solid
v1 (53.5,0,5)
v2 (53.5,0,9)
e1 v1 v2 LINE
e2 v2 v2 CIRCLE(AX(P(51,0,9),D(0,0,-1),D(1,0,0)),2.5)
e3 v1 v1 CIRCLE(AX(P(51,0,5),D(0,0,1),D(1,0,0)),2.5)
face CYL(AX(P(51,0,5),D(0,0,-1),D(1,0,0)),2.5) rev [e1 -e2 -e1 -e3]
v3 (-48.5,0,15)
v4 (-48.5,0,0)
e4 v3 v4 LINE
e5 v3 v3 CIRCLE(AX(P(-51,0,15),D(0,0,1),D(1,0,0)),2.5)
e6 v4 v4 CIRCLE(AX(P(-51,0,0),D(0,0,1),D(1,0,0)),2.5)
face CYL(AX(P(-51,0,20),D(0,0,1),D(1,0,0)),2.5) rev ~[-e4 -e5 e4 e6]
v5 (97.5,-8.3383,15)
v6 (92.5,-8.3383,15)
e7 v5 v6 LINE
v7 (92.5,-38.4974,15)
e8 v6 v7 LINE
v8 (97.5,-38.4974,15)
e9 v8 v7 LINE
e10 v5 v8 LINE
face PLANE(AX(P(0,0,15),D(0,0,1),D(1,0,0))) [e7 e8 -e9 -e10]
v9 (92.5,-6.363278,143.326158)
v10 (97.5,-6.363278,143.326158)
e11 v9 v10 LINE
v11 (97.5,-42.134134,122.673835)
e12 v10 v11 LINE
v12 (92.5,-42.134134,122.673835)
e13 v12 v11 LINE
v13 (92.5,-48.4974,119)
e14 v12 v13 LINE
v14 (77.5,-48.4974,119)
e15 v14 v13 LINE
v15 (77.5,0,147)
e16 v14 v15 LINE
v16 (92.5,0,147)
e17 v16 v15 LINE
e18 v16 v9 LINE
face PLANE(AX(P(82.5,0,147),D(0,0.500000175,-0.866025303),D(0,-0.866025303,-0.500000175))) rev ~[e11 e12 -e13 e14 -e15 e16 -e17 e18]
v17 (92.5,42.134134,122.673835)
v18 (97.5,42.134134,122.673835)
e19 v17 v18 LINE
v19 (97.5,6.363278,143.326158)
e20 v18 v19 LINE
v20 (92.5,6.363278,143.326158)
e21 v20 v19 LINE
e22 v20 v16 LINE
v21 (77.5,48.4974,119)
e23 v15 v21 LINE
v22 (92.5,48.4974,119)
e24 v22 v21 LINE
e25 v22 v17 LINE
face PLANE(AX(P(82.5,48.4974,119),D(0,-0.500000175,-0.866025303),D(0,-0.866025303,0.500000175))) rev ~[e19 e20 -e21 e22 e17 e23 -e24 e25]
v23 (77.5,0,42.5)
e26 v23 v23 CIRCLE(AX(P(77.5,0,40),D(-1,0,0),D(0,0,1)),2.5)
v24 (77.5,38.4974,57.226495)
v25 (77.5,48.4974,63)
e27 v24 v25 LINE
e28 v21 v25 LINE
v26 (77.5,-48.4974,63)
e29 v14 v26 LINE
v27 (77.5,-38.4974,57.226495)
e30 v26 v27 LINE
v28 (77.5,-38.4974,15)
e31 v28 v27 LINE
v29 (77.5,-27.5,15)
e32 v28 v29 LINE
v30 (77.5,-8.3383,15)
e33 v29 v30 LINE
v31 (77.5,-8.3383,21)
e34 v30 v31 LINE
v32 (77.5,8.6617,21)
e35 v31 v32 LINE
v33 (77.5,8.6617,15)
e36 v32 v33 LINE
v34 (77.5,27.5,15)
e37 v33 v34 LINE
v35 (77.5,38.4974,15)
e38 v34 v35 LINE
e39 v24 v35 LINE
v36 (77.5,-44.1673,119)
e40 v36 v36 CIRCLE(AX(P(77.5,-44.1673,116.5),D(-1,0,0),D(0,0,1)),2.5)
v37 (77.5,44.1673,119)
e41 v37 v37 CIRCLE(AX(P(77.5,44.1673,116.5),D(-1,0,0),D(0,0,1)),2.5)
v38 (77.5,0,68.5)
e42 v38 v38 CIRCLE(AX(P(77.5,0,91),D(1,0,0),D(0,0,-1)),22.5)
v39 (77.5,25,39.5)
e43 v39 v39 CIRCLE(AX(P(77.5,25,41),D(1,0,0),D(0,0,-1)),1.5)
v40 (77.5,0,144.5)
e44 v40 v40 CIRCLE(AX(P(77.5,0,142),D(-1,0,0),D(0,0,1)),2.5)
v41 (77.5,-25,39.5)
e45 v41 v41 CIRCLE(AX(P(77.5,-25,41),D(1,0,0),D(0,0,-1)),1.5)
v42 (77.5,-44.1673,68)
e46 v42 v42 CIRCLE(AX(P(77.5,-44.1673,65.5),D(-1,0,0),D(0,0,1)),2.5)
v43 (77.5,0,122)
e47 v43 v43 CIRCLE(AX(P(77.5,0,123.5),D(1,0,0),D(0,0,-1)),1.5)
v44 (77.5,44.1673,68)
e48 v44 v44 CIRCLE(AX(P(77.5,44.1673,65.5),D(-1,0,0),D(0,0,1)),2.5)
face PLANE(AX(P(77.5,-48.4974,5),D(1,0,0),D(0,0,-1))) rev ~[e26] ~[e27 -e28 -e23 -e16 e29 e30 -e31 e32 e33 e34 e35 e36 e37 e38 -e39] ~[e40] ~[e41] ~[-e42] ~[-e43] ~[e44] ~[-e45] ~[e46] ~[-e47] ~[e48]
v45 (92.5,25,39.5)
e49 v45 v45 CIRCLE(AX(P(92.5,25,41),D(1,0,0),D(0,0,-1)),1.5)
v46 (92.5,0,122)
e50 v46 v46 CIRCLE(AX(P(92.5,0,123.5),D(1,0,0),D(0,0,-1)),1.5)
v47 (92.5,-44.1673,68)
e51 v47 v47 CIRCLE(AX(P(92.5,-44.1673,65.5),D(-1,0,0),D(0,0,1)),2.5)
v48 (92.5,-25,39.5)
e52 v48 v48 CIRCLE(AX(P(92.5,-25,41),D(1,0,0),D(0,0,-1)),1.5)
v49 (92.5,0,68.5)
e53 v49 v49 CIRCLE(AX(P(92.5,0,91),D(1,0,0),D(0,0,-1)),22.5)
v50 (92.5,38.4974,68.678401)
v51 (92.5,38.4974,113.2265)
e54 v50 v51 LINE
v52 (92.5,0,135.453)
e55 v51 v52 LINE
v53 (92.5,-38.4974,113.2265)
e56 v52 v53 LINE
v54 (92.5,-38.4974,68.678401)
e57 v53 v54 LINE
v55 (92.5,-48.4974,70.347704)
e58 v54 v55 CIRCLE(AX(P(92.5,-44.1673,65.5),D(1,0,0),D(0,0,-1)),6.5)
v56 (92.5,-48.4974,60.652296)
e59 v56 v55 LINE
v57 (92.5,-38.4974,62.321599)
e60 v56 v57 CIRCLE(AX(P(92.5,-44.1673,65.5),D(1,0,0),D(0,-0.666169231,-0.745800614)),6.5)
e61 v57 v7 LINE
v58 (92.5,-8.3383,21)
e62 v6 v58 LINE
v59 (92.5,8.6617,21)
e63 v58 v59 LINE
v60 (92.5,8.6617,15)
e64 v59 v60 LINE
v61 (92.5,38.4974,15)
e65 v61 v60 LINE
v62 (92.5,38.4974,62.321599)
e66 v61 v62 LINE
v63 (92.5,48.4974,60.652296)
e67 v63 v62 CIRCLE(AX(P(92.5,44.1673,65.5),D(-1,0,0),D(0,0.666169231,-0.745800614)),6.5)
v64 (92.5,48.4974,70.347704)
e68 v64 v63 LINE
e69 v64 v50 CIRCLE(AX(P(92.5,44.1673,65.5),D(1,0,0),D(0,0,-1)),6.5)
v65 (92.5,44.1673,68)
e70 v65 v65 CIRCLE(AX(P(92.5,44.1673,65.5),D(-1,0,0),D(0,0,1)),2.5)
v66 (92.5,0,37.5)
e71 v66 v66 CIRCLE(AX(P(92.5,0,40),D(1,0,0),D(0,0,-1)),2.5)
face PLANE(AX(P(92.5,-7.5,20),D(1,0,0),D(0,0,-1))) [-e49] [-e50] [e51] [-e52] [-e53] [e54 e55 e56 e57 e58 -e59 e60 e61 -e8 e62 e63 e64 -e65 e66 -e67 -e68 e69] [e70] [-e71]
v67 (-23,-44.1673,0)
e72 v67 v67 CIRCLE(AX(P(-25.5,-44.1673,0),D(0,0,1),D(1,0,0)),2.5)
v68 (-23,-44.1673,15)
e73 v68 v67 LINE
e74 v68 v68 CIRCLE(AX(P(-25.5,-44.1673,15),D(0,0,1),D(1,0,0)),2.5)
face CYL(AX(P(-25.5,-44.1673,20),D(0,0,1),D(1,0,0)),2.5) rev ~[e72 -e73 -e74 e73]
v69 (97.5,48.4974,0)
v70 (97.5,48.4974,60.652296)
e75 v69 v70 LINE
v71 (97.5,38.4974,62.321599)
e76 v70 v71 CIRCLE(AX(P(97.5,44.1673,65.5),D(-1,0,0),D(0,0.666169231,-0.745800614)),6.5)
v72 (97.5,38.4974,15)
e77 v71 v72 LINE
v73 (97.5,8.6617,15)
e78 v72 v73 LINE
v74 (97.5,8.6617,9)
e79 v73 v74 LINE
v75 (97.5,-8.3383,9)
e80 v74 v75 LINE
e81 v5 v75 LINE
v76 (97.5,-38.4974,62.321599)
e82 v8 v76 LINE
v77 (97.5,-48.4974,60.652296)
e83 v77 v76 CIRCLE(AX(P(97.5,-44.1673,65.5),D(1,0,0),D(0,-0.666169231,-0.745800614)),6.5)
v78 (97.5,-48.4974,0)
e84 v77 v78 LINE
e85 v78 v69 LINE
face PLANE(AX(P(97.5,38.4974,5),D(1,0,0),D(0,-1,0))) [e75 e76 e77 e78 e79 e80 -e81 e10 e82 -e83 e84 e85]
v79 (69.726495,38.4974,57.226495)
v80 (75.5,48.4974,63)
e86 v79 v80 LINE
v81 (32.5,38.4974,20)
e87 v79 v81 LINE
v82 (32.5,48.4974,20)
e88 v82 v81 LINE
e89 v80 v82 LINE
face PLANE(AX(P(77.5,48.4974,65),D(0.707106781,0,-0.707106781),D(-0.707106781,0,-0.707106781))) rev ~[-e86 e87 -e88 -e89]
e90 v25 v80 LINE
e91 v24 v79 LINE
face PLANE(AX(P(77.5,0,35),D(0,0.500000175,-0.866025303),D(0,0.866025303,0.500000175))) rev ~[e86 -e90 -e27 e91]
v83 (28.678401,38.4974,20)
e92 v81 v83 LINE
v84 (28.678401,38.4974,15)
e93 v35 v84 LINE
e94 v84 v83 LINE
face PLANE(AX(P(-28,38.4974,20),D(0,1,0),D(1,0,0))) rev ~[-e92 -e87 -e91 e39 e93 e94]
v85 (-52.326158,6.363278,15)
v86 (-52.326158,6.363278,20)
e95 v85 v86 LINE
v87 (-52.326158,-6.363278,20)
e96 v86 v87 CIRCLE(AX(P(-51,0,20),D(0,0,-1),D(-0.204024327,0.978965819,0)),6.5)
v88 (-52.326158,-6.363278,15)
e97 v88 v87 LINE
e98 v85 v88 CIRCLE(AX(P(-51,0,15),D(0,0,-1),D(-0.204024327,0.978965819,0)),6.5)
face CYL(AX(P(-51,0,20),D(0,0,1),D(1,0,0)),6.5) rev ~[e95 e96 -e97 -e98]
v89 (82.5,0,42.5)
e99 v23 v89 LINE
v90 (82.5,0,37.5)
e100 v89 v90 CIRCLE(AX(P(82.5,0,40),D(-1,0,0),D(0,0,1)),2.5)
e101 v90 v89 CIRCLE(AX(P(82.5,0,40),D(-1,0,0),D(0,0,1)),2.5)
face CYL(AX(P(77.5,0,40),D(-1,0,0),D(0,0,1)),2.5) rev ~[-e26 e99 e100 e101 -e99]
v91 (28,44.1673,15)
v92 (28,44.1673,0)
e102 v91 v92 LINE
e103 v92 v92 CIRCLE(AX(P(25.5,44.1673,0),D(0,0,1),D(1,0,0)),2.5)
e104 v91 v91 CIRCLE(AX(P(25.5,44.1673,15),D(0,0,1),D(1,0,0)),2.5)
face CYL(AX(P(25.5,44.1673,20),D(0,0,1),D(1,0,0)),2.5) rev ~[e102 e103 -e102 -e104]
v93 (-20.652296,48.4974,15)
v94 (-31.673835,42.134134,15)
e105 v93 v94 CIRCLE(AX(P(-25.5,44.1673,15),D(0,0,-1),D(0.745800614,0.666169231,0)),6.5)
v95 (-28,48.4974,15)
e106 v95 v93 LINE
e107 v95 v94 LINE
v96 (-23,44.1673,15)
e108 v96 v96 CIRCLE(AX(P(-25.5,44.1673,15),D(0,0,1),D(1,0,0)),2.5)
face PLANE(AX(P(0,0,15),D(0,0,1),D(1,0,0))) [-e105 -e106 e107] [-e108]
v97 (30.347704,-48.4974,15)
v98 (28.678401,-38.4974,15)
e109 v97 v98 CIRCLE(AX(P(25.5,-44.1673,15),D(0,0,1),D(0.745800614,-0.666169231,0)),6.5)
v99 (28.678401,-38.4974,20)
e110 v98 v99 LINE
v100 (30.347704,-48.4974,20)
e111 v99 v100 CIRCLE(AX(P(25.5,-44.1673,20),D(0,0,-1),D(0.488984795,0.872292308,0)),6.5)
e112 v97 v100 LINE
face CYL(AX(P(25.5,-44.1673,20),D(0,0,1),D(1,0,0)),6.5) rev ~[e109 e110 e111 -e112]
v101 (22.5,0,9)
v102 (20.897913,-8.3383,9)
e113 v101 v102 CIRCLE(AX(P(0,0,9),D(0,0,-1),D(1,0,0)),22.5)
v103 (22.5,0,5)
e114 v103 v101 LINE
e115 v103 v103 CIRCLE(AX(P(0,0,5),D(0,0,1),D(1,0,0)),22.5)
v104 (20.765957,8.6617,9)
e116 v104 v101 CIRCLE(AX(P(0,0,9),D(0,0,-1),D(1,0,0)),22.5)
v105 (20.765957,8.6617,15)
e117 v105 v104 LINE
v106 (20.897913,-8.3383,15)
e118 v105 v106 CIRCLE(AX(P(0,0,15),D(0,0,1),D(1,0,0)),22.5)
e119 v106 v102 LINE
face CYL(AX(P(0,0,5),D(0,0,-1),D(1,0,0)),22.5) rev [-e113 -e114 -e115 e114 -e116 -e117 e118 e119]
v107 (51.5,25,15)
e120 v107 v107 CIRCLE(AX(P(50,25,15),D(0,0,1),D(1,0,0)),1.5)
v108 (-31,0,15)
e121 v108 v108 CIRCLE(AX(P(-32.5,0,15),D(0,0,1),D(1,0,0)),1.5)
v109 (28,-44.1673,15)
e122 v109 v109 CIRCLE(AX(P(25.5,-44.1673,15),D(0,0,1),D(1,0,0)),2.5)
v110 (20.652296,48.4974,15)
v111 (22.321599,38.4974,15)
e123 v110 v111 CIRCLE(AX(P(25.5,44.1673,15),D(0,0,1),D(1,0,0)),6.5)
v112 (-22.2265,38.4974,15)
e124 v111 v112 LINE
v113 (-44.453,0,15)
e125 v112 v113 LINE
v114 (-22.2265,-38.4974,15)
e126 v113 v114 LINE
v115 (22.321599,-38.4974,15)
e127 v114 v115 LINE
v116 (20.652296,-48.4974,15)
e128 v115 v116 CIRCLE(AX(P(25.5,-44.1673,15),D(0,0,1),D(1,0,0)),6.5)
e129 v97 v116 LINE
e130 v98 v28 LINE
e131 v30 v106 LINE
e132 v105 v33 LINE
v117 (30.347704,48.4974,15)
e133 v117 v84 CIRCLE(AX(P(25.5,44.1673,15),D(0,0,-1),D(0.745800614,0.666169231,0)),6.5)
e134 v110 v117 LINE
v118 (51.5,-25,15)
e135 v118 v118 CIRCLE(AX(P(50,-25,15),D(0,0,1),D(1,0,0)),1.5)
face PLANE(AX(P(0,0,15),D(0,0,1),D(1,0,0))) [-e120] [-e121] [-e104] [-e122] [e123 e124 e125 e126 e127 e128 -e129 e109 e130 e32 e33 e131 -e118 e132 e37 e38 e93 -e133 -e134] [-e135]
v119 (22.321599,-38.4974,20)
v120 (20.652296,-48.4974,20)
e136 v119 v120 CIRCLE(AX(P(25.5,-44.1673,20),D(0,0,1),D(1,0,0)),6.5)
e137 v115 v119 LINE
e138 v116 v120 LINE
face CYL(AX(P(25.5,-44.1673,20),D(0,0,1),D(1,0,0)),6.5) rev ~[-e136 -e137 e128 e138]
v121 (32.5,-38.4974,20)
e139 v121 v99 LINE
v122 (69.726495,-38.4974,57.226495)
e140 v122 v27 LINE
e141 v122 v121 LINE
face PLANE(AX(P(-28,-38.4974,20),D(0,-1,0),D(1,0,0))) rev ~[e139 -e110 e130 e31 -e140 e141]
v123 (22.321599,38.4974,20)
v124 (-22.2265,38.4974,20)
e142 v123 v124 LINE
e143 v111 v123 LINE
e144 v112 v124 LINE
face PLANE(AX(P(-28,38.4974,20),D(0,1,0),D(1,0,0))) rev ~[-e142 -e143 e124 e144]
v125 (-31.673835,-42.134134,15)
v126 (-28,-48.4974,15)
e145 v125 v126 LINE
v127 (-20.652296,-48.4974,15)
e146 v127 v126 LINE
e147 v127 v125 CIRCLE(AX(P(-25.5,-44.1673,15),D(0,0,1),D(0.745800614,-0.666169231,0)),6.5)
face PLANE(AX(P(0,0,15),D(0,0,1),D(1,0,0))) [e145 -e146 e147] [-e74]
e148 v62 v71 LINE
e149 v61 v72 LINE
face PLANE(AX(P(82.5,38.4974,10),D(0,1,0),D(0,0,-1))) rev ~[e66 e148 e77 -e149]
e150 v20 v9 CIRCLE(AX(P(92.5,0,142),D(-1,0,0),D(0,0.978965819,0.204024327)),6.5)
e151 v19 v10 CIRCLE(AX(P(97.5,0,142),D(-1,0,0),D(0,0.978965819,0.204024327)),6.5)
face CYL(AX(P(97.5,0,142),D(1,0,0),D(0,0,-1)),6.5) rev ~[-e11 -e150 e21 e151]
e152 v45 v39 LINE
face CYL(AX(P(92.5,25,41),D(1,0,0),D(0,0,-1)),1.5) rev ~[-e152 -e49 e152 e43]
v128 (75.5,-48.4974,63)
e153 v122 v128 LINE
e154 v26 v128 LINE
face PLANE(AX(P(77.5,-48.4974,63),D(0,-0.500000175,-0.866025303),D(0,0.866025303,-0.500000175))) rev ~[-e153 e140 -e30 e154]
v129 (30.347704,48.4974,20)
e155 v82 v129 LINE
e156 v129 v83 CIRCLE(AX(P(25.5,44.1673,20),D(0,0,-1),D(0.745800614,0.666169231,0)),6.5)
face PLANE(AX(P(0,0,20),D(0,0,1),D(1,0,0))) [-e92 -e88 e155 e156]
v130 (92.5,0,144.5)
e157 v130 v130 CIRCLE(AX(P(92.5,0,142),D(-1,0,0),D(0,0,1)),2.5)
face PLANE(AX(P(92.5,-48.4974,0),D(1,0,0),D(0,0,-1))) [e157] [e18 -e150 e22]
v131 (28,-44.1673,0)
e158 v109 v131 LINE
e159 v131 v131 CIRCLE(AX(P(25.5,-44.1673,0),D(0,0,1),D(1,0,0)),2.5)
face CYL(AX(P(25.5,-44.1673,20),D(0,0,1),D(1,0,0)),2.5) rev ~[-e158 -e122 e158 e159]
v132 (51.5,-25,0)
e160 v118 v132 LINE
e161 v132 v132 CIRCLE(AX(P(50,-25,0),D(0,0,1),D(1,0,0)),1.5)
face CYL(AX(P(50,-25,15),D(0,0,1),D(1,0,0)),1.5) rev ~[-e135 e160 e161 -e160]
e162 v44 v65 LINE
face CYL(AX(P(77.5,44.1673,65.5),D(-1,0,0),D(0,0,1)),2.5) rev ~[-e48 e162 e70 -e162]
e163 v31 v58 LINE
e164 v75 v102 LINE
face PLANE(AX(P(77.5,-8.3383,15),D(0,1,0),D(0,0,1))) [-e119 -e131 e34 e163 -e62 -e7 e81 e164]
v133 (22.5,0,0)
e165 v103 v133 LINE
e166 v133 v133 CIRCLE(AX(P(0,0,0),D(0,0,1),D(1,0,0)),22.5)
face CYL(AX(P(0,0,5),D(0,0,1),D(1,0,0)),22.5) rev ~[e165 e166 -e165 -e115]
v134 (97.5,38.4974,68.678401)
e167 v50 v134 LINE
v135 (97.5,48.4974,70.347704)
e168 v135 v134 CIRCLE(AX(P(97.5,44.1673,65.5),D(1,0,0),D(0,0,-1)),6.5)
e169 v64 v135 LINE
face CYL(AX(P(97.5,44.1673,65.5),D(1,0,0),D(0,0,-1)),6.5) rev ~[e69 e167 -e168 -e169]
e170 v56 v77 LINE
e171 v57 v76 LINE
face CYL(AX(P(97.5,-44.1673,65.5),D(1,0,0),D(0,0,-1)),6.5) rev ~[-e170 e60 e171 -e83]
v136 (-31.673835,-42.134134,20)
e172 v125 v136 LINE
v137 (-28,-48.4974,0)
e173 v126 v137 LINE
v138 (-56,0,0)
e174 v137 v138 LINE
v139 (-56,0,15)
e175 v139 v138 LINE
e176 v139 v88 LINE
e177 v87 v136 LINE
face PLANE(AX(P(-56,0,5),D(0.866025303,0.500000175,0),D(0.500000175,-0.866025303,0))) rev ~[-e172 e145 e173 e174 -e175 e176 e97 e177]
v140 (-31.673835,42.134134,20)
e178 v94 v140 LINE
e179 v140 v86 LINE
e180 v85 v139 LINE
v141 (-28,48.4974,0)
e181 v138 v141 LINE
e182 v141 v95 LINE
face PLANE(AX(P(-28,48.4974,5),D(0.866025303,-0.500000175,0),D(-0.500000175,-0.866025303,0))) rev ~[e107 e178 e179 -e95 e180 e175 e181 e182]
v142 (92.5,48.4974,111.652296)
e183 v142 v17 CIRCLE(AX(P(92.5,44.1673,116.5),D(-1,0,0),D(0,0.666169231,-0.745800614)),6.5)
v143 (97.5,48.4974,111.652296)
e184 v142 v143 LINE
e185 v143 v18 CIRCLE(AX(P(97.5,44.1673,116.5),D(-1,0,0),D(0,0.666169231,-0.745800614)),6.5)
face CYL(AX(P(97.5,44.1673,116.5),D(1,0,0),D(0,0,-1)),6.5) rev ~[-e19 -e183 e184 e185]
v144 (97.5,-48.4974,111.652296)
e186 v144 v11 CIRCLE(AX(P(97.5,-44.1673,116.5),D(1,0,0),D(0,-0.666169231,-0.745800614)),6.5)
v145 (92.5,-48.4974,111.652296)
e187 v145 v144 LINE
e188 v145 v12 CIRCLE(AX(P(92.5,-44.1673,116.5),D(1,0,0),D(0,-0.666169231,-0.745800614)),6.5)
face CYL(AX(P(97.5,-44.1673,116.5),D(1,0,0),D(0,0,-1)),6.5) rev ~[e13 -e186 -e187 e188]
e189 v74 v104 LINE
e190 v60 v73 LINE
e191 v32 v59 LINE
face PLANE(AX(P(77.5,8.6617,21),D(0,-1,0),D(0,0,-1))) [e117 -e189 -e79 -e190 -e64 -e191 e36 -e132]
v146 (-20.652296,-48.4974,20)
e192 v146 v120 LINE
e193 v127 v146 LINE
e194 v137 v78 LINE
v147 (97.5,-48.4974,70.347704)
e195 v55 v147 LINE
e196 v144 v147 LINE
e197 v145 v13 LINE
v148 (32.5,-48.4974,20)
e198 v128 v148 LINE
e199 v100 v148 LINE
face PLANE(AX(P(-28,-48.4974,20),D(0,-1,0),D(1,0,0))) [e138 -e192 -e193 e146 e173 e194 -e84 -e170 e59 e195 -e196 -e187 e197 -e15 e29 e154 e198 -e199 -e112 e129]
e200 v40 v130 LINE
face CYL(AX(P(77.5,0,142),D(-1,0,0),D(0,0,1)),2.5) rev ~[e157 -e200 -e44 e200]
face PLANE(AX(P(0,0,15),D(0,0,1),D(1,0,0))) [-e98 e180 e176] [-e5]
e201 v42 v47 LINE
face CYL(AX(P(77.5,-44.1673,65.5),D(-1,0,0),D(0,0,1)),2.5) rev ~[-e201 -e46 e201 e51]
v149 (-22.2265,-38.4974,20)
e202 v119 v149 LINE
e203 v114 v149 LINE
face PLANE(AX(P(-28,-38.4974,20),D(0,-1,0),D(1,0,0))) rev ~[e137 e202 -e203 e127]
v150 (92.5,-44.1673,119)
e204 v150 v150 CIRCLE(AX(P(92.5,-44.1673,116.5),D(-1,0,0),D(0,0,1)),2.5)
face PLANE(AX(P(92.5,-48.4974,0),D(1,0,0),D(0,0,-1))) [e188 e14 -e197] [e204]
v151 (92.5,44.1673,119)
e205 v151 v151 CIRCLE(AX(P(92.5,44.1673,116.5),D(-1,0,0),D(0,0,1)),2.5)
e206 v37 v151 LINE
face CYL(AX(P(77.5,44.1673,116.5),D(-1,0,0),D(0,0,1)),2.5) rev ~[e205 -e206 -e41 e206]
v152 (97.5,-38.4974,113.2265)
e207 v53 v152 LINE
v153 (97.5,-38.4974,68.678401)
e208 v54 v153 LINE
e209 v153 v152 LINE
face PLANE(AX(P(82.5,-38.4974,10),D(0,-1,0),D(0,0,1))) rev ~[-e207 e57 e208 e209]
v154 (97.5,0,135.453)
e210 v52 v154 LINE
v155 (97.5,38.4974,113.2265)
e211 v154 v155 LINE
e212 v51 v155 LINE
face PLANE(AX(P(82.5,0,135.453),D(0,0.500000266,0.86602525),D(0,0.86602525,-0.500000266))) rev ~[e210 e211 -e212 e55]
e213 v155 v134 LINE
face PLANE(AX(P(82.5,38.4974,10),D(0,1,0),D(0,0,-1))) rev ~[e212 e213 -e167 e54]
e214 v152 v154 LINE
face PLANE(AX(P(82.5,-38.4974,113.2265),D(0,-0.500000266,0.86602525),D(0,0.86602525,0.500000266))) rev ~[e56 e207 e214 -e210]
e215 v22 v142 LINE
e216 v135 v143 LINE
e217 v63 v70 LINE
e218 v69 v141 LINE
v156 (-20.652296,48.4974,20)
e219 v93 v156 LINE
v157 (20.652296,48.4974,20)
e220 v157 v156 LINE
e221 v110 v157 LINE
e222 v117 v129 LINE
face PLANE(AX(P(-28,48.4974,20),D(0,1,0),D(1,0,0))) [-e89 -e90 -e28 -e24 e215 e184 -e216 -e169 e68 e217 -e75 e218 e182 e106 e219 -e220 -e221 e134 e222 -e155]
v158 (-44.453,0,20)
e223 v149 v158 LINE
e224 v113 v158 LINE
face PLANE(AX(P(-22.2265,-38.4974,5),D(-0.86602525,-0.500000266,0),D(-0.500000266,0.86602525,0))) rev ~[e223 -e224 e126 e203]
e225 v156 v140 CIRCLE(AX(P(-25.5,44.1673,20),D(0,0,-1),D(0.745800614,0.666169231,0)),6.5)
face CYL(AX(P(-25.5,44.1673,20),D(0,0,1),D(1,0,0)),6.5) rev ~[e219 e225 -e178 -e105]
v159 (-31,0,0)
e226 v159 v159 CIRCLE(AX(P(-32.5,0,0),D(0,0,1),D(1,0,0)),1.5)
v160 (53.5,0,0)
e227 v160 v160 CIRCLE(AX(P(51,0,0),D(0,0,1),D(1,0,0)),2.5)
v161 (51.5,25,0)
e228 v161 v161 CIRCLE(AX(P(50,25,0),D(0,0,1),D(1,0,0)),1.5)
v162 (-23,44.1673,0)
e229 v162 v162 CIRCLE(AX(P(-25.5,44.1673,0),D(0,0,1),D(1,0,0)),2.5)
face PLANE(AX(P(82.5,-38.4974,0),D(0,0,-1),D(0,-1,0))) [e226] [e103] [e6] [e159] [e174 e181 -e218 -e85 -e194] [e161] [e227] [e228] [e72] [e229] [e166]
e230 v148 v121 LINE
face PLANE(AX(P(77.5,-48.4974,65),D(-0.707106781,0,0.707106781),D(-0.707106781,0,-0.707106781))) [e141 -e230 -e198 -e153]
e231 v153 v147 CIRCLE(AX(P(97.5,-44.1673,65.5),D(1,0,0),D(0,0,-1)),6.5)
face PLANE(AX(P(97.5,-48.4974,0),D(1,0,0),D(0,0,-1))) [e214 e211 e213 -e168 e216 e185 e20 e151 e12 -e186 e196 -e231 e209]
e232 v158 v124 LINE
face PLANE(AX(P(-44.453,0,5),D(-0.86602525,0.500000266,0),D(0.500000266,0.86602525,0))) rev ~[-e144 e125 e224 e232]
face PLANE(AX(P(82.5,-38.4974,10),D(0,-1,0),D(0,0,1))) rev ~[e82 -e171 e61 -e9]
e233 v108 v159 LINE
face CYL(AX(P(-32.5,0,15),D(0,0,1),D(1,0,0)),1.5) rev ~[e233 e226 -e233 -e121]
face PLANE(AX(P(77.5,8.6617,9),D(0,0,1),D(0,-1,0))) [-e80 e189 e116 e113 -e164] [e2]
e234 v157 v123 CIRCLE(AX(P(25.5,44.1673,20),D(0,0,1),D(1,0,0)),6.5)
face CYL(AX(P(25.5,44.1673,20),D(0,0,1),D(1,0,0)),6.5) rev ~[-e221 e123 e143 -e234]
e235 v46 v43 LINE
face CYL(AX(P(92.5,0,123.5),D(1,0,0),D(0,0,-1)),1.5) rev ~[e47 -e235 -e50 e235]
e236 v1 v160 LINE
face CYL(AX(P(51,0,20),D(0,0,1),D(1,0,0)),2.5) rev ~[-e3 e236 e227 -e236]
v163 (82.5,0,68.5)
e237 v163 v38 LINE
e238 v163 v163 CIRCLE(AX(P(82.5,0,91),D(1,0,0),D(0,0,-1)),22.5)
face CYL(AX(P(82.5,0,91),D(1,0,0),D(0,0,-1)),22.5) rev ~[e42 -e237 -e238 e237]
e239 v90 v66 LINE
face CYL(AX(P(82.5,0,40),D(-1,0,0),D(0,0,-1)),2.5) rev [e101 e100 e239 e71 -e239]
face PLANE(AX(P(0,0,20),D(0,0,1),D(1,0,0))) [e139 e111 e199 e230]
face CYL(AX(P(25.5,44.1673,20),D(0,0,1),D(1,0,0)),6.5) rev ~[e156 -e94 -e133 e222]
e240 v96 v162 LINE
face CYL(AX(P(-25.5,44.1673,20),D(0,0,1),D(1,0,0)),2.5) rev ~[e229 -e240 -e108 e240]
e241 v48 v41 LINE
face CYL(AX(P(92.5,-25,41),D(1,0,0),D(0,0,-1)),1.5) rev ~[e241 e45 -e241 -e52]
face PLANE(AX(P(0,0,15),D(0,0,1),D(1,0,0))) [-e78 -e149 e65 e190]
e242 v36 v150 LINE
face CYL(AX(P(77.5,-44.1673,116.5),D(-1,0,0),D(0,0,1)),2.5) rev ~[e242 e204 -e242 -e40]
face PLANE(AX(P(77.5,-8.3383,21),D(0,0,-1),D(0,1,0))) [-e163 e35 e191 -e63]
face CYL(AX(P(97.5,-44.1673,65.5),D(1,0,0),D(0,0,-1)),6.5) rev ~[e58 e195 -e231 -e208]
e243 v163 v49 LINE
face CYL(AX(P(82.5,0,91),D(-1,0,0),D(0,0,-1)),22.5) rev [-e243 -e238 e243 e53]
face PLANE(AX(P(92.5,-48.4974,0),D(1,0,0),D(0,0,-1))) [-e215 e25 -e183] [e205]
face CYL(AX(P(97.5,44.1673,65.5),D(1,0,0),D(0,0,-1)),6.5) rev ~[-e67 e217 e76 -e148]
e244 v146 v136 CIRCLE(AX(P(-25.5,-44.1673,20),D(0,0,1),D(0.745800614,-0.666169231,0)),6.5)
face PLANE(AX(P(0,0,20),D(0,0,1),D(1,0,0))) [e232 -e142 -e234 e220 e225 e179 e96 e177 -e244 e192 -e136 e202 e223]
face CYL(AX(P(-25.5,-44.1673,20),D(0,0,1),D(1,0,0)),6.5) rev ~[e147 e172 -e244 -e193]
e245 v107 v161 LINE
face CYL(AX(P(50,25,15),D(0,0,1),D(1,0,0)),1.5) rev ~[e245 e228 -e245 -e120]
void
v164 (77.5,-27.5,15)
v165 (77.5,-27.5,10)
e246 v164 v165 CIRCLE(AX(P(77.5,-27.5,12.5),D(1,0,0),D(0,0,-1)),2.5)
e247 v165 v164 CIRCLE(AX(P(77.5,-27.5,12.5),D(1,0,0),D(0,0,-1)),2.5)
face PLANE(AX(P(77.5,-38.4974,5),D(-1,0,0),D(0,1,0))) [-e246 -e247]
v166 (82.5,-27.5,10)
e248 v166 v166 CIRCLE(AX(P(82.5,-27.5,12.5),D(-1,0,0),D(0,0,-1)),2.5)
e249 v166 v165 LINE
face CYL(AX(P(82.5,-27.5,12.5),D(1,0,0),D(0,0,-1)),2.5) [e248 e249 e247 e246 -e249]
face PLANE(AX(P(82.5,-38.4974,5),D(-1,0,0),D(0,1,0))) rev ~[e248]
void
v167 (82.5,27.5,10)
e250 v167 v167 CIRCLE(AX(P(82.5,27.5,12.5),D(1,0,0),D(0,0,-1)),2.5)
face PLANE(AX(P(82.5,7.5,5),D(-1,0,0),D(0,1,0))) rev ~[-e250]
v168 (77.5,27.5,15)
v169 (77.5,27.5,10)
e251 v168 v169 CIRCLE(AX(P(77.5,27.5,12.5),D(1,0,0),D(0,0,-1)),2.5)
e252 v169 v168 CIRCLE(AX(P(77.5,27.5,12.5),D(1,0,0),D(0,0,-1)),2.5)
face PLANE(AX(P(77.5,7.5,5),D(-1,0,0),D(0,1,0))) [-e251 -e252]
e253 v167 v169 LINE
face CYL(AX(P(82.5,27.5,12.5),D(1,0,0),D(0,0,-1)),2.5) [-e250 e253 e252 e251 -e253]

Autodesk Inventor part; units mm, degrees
ref_plane "YZ Plane" through (0, 0, 0) normal (1, 0, 0) x (0, 1, 0)
ref_plane "XZ Plane" through (0, 0, 0) normal (0, 1, 0) x (-1, 0, 0)
ref_plane "XY Plane" through (0, 0, 0) normal (0, 0, 1) x (1, 0, 0)
sketch "Sketch1" plane through (0, 0, 0) normal (0, 0, 1) x (1, 0, 0)
  line L0 (-56, 0) -> (-28, 48.4974)
  line L1 (-28, 48.4974) -> (28, 48.4974)
  line L2 (28, 48.4974) -> (56, 0)
  line L3 (56, 0) -> (28, -48.4974)
  line L4 (28, -48.4974) -> (-28, -48.4974)
  line L5 (-28, -48.4974) -> (-56, 0)
  circle A0 centre (0, 30) radius 2.5
  circle A1 centre (-25.9808, 15) radius 2.5
  circle A2 centre (-25.9808, -15) radius 2.5
  circle A3 centre (0, -30) radius 2.5
  circle A4 centre (25.9808, -15) radius 2.5
  circle A5 centre (25.9808, 15) radius 2.5
  point P0 (0, 0)
  point P1 (0, 0)
  dimension "d0" = 112
  dimension "d1" = 5
  dimension "d2" = 30
  dimension "d5" = 360
extrude "Extrusion1" add sketch "Sketch1" along normal blind 5
sketch "Sketch2" plane through (0, 0, 5) normal (0, 0, 1) x (1, 0, 0)
  line L0 (28, 48.4974) -> (-28, 48.4974) projected
  line L1 (28, 48.4974) -> (82.5, 48.4974)
  line L2 (82.5, 48.4974) -> (82.5, -48.4974)
  line L3 (82.5, -48.4974) -> (28, -48.4974)
  circle A0 centre (25.9808, 15) radius 2.5 projected
  circle A1 centre (25.9808, -15) radius 2.5 projected
  line L4 (56, 0) -> (28, 48.4974) projected
  line L5 (28, -48.4974) -> (56, 0) projected
  line L6 (-28, -48.4974) -> (28, -48.4974) projected
  line L7 (28, -48.4974) -> (56, 0)
  line L8 (28, 48.4974) -> (56, 0)
  line L9 (28, -48.4974) -> (82.5, -48.4974)
  line L10 (28, 48.4974) -> (82.5, 48.4974)
  point P0 (0, 0)
  dimension "d42" = 82.5
extrude "Extrusion2" add sketch "Sketch2" against normal blind 5 contours L1 L2 L3 L5 L4
sketch "Sketch3" plane through (82.5, -48.4974, 5) normal (1, 0, 0) x (0, 0, -1)
  line L0 (0, 0) -> (0, 96.9948) projected
  line L1 (-58, 96.9948) -> (-30, 48.4974)
  line L2 (-30, 48.4974) -> (-58, 0)
  line L3 (-58, 0) -> (-114, 0)
  line L4 (-114, 0) -> (-142, 48.4974)
  line L5 (-142, 48.4974) -> (-114, 96.9948)
  line L6 (-114, 96.9948) -> (-58, 96.9948)
  line L7 (0, 0) -> (-58, 0)
  line L8 (-58, 0) -> (-58, 96.9948) construction
  line L9 (-58, 96.9948) -> (0, 96.9948)
  line L10 (0, 96.9948) -> (0, 0)
  circle A0 centre (-86, 78.4974) radius 2.5
  circle A1 centre (-111.9808, 63.4974) radius 2.5
  circle A2 centre (-111.9808, 33.4974) radius 2.5
  circle A3 centre (-86, 18.4974) radius 2.5
  circle A4 centre (-60.0192, 33.4974) radius 2.5
  circle A5 centre (-60.0192, 63.4974) radius 2.5
  line L11 (-58, 0) -> (-30, 48.4974)
  line L12 (-30, 48.4974) -> (-58, 96.9948)
  line L13 (-58, 96.9948) -> (0, 96.9948)
  line L14 (0, 48.4974) -> (0, 0) projected
  line L15 (-58, 0) -> (0, 0)
  circle A6 centre (-86, 48.4974) radius 10
  point P0 (5, 48.4974)
  dimension "d17" = 112
  dimension "d18" = 30
  dimension "d19" = 5
  dimension "d20" = 30
  dimension "d23" = 360
  dimension "d27" = 20
extrude "Extrusion3" add sketch "Sketch3" against normal blind 5
sketch "Sketch4" plane through (0, 0, 5) normal (0, 0, 1) x (1, 0, 0)
  circle A0 centre (0, 0) radius 10
  dimension "d28" = 20
extrude "Extrusion4" cut sketch "Sketch4" against normal through all
sketch "Sketch5" plane through (0, 0, 5) normal (0, 0, 1) x (1, 0, 0)
  circle A0 centre (0, 0) radius 10 projected
  line L0 (77.5, -48.4974) -> (77.5, 48.4974) construction
  line L1 (77.5, 48.4974) -> (-28, 48.4974) projected
  line L2 (-28, 48.4974) -> (-56, 0) projected
  line L3 (-56, 0) -> (-28, -48.4974) projected
  line L4 (-28, -48.4974) -> (77.5, -48.4974) projected
  circle A1 centre (25.9808, 15) radius 2.5 projected
  circle A2 centre (25.9808, -15) radius 2.5 projected
  circle A3 centre (0, -30) radius 2.5 projected
  circle A4 centre (-25.9808, -15) radius 2.5 projected
  circle A5 centre (-25.9808, 15) radius 2.5 projected
  circle A6 centre (0, 30) radius 2.5 projected
  line L5 (-22.2265, 38.4974) -> (67.5, 38.4974)
  line L6 (67.5, 38.4974) -> (67.5, -38.4974) construction
  line L7 (67.5, -38.4974) -> (-22.2265, -38.4974)
  line L8 (-22.2265, -38.4974) -> (-44.453, 0)
  line L9 (-44.453, 0) -> (-22.2265, 38.4974)
  line L10 (67.5, 38.4974) -> (77.5, 38.4974)
  line L11 (77.5, -48.4974) -> (77.5, 48.4974) projected
  line L12 (77.5, 48.4974) -> (77.5, 38.4974)
  line L13 (67.5, -38.4974) -> (77.5, -38.4974)
  line L14 (77.5, -38.4974) -> (77.5, -48.4974)
  dimension "d31" = 10
extrude "Extrusion5" add sketch "Sketch5" along normal blind 15 contours L11 L10 L5 L9 L8 L7 L13 L4 L3 L2 L1
sketch "Sketch7" plane through (77.5, -48.4974, 5) normal (-1, 0, 0) x (0, 0, 1)
  circle A0 centre (86, 78.4974) radius 2.5 projected
  circle A1 centre (111.9808, 63.4974) radius 2.5 projected
  circle A2 centre (111.9808, 33.4974) radius 2.5 projected
  circle A3 centre (86, 18.4974) radius 2.5 projected
  circle A4 centre (60.0192, 33.4974) radius 2.5 projected
  circle A5 centre (60.0192, 63.4974) radius 2.5 projected
  circle A6 centre (86, 48.4974) radius 10 projected
  line L0 (15, 96.9948) -> (15, 86.9948) projected
  line L1 (15, 86.9948) -> (0, 86.9948) projected
  line L2 (0, 10) -> (0, 86.9948) projected
  line L3 (0, 10) -> (15, 10) projected
  line L4 (15, 10) -> (15, 0) projected
  line L5 (15, 0) -> (114, 0) projected
  line L6 (114, 0) -> (142, 48.4974) projected
  line L7 (142, 48.4974) -> (114, 96.9948) projected
  line L8 (114, 96.9948) -> (15, 96.9948) projected
  line L9 (0, 55.9974) -> (15, 55.9974)
  line L10 (15, 55.9974) -> (15, 40.9974)
  line L11 (15, 40.9974) -> (0, 40.9974)
  line L12 (0, 40.9974) -> (0, 55.9974)
  point P0 (-5, 48.4974)
  point P1 (0, 48.4974)
  dimension "d34" = 15
extrude "Extrusion6" cut sketch "Sketch7" against normal through all contours L9 L10 L11 L2
sketch "Sketch8" plane through (82.5, -48.4974, 0) normal (1, 0, 0) x (0, 0, -1)
  line L0 (-5, 40.9974) -> (-20, 40.9974) projected
  line L1 (-20, 40.9974) -> (-20, 55.9974) projected
  line L2 (-20, 55.9974) -> (-5, 55.9974) projected
  line L3 (-5, 55.9974) -> (-5, 40.9974) projected
  circle A0 centre (-91, 78.4974) radius 2.5 projected
  circle A1 centre (-116.9808, 63.4974) radius 2.5 projected
  circle A2 centre (-116.9808, 33.4974) radius 2.5 projected
  circle A3 centre (-91, 18.4974) radius 2.5 projected
  circle A4 centre (-65.0192, 33.4974) radius 2.5 projected
  circle A5 centre (-65.0192, 63.4974) radius 2.5 projected
  circle A6 centre (-91, 48.4974) radius 10 projected
  line L4 (-119, 0) -> (0, 0) projected
  line L5 (0, 96.9948) -> (0, 0) projected
  line L6 (0, 96.9948) -> (-119, 96.9948) projected
  line L7 (-119, 96.9948) -> (-147, 48.4974) projected
  line L8 (-147, 48.4974) -> (-119, 0) projected
  line L9 (-113.2265, 86.9948) -> (-10, 86.9948)
  line L10 (-10, 86.9948) -> (-10, 10) construction
  line L11 (-10, 10) -> (-113.2265, 10)
  line L12 (-113.2265, 10) -> (-135.453, 48.4974)
  line L13 (-135.453, 48.4974) -> (-113.2265, 86.9948)
  line L14 (-10, 86.9948) -> (0, 86.9948)
  line L15 (-10, 10) -> (0, 10)
  line L16 (0, 96.9948) -> (0, 0) projected
  point P0 (0, 48.4974)
  dimension "d37" = 10
extrude "Extrusion7" add sketch "Sketch8" along normal blind 15 contours L8 L7 L6 L5 L14 L9 L13 L12 L11 L15 L4
sketch "Sketch9" plane through (82.5, -38.4974, 0) normal (1, 0, 0) x (0, 0, -1)
  line L0 (0, 76.9948) -> (0, 86.9948) projected
  line L1 (0, 76.9948) -> (-5, 76.9948)
  line L2 (-5, 76.9948) -> (-5, -0.838)
  line L3 (-5, -0.838) -> (0, -0.838)
  line L4 (0, -0.838) -> (0, 76.9948)
  line L5 (-5, 45.9974) -> (-5, 30.9974) projected
  point P0 (0, 38.4974)
extrude "Extrusion8" add sketch "Sketch9" along normal blind 15
sketch "Sketch10" plane through (82.5, -7.5, 20) normal (1, 0, 0) x (0, 0, -1)
  circle A0 centre (7.5, 35) radius 2.5
  circle A1 centre (7.5, -20) radius 2.5
  line L0 (7.5, 35) -> (7.5, -20)
  line L1 (15, -2.5) -> (15, 17.5) projected
  point P0 (20, 7.5)
  point P1 (7.5, 7.5)
  dimension "d43" = 5
  dimension "d44" = 5
  dimension "d45" = 55
  dimension "d46" = 7.5
extrude "Extrusion9" cut sketch "Sketch10" against normal blind 10
sketch "Sketch12" plane through (-28, 48.4974, 20) normal (0, 1, 0) x (1, 0, 0)
  line L0 (105.5, 0) -> (105.5, -99) projected
  line L1 (105.5, -45) -> (60.5, 0)
  line L2 (60.5, 0) -> (105.5, 0)
  line L3 (105.5, 0) -> (105.5, -45)
  point P0 (28, 20)
  dimension "d53" = 45
  dimension "d54" = 45
extrude "Extrusion11" add sketch "Sketch12" against normal blind 10
sketch "Sketch13" plane through (-28, -48.4974, 20) normal (0, -1, 0) x (1, 0, 0)
  line L0 (105.5, 45) -> (60.5, 0) projected
  line L1 (60.5, 0) -> (105.5, 0)
  line L2 (105.5, 0) -> (105.5, 45)
  line L3 (105.5, 0) -> (105.5, 99) projected
  point P0 (28, -20)
extrude "Extrusion12" add sketch "Sketch13" against normal blind 10
sketch "Sketch14" plane through (77.5, -48.4974, 5) normal (-1, 0, 0) x (0, 0, 1)
  circle A0 centre (86, 48.4974) radius 10 projected
  line L0 (114, 0) -> (142, 48.4974) projected
  line L1 (142, 48.4974) -> (114, 0)
  line L2 (114, 0) -> (58, 0)
  line L3 (58, 0) -> (30, 48.4974)
  line L4 (30, 48.4974) -> (58, 96.9948)
  line L5 (58, 96.9948) -> (114, 96.9948)
  line L6 (114, 96.9948) -> (142, 48.4974)
  point P0 (-5, 48.4974)
extrude "Extrusion13" cut sketch "Sketch14" along normal through all
sketch "Sketch15" plane through (82.5, -7.5, 20) normal (1, 0, 0) x (0, 0, -1)
  circle A0 centre (-71, 7.5) radius 10 projected
  circle A1 centre (-71, 7.5) radius 22.5
  point P0 (20, 7.5)
  dimension "d61" = 45
extrude "Extrusion14" cut sketch "Sketch15" against normal through all
sketch "Sketch16" plane through (0, 0, 5) normal (0, 0, 1) x (1, 0, 0)
  circle A0 centre (0, 0) radius 22.5
  dimension "d64" = 45
extrude "Extrusion15" cut sketch "Sketch16" against normal through all
sketch "Sketch17" plane through (0, 0, 20) normal (0, 0, 1) x (1, 0, 0)
  circle A0 centre (-51, 0) radius 2.5
  line L0 (-56, 0) -> (-28, -48.4974) construction
  line L1 (-51, 0) -> (-56, 0) construction
  circle A1 centre (-25.5, -44.1673) radius 2.5
  circle A2 centre (25.5, -44.1673) radius 2.5
  circle A3 centre (51, 0) radius 2.5
  circle A4 centre (25.5, 44.1673) radius 2.5
  circle A5 centre (-25.5, 44.1673) radius 2.5
  point P0 (0, 0)
  dimension "d67" = 5
  dimension "d68" = 5
  dimension "d71" = 360
extrude "Extrusion16" cut sketch "Sketch17" against normal through all
sketch "Sketch18" plane through (77.5, -48.4974, 5) normal (-1, 0, 0) x (0, 0, 1)
  circle A0 centre (137, 48.4974) radius 2.5
  circle A1 centre (86, 48.4974) radius 22.5 construction
  line L0 (142, 48.4974) -> (114, 0) construction
  line L1 (137, 48.4974) -> (142, 48.4974) construction
  circle A2 centre (111.5, 92.6647) radius 2.5
  circle A3 centre (60.5, 92.6647) radius 2.5
  circle A4 centre (35, 48.4974) radius 2.5
  circle A5 centre (60.5, 4.3301) radius 2.5
  circle A6 centre (111.5, 4.3301) radius 2.5
  point P0 (-5, 48.4974)
  dimension "d75" = 5
  dimension "d76" = 5
  dimension "d79" = 360
extrude "Extrusion17" cut sketch "Sketch18" against normal through all
sketch "Sketch19" plane through (0, 0, 5) normal (0, 0, 1) x (1, 0, 0)
  circle A0 centre (25.9808, 15) radius 2.5 projected
  circle A1 centre (0, 30) radius 2.5 projected
  circle A2 centre (-25.9808, 15) radius 2.5 projected
  circle A3 centre (-25.9808, -15) radius 2.5 projected
  circle A4 centre (0, -30) radius 2.5 projected
  circle A5 centre (25.9808, -15) radius 2.5 projected
  point P0 (0, 0)
extrude "Extrusion18" add sketch "Sketch19" against normal blind 5
sketch "Sketch20" plane through (77.5, -48.4974, 5) normal (-1, 0, 0) x (0, 0, 1)
  circle A0 centre (86, 78.4974) radius 2.5 projected
  circle A1 centre (60.0192, 63.4974) radius 2.5 projected
  circle A2 centre (60.0192, 33.4974) radius 2.5 projected
  circle A3 centre (86, 18.4974) radius 2.5 projected
  circle A4 centre (111.9808, 33.4974) radius 2.5 projected
  circle A5 centre (111.9808, 63.4974) radius 2.5 projected
  point P0 (-5, 48.4974)
extrude "Extrusion19" add sketch "Sketch20" against normal blind 5
sketch "Sketch21" plane through (97.5, -48.4974, 0) normal (1, 0, 0) x (0, 0, -1)
  circle A0 centre (-142, 48.4974) radius 2.5 projected
  circle A1 centre (-91, 48.4974) radius 22.5 construction
  circle A2 centre (-142, 48.4974) radius 6.5
  circle A3 centre (-116.5, 4.3301) radius 6.5
  circle A4 centre (-65.5, 4.3301) radius 6.5
  circle A5 centre (-40, 48.4974) radius 6.5
  circle A6 centre (-65.5, 92.6647) radius 6.5
  circle A7 centre (-116.5, 92.6647) radius 6.5
  point P0 (0, 48.4974)
  dimension "d87" = 13
  dimension "d90" = 360
extrude "Extrusion20" cut sketch "Sketch21" against normal blind 5 contours A0 | A2 | A3 | A4 | A5 | A6 | A7
sketch "Sketch22" plane through (0, 0, 20) normal (0, 0, 1) x (1, 0, 0)
  circle A0 centre (0, 0) radius 22.5 construction
  circle A1 centre (-51, 0) radius 2.5 projected
  circle A2 centre (-51, 0) radius 6.5
  circle A3 centre (-25.5, -44.1673) radius 6.5
  circle A4 centre (25.5, -44.1673) radius 6.5
  circle A5 centre (51, 0) radius 6.5
  circle A6 centre (25.5, 44.1673) radius 6.5
  circle A7 centre (-25.5, 44.1673) radius 6.5
  dimension "d94" = 13
  dimension "d97" = 360
extrude "Extrusion21" cut sketch "Sketch22" against normal blind 5 contours A1 | A2 | A3 | A4 | A5 | A6 | A7
sketch "Sketch23" plane through (0, 0, 5) normal (0, 0, 1) x (1, 0, 0)
  circle A0 centre (51, 0) radius 2.5 projected
  circle A1 centre (0, 0) radius 22.5 projected
  line L0 (77.5, 38.4974) -> (-22.2265, 38.4974) projected
  line L1 (-22.2265, 38.4974) -> (-44.453, 0) projected
  line L2 (-44.453, 0) -> (-22.2265, -38.4974) projected
  line L3 (-22.2265, -38.4974) -> (77.5, -38.4974) projected
  line L4 (77.5, -38.4974) -> (77.5, -7.5) projected
  line L5 (77.5, -7.5) -> (82.5, -7.5) projected
  line L6 (82.5, -38.4974) -> (82.5, -7.5) projected
  line L7 (97.5, -38.4974) -> (82.5, -38.4974) projected
  line L8 (97.5, 38.4974) -> (97.5, -38.4974) projected
  line L9 (82.5, 38.4974) -> (97.5, 38.4974) projected
  line L10 (82.5, 7.5) -> (82.5, 38.4974) projected
  line L11 (77.5, 7.5) -> (82.5, 7.5) projected
  line L12 (77.5, 7.5) -> (77.5, 38.4974) projected
extrude "Extrusion22" add sketch "Sketch23" along normal blind 10
sketch "Sketch24" plane through (82.5, -7.5, 20) normal (1, 0, 0) x (0, 0, -1)
  circle A0 centre (-71, 7.5) radius 22.5 projected
  circle A1 centre (-20, 7.5) radius 2.5 projected
  line L0 (5, -30.9974) -> (5, -20) projected
  line L1 (5, -20) -> (5, 0) projected
  line L2 (5, 0) -> (0, 0) projected
  line L3 (0, 0) -> (0, 15) projected
  line L4 (0, 15) -> (5, 15) projected
  line L5 (5, 15) -> (5, 35) projected
  line L6 (5, 35) -> (5, 45.9974) projected
  line L7 (5, 45.9974) -> (-93.2265, 45.9974) projected
  line L8 (-93.2265, 45.9974) -> (-115.453, 7.5) projected
  line L9 (-115.453, 7.5) -> (-93.2265, -30.9974) projected
  line L10 (-93.2265, -30.9974) -> (5, -30.9974) projected
  point P0 (20, 7.5)
extrude "Extrusion23" add sketch "Sketch24" along normal blind 10
sketch "Sketch25" plane through (77.5, -48.4974, 5) normal (-1, 0, 0) x (0, 0, 1)
  circle A0 centre (86, 48.4974) radius 22.5 projected
  circle A1 centre (111.5, 4.3301) radius 2.5 projected
  circle A2 centre (35, 48.4974) radius 2.5 projected
  circle A3 centre (111.5, 92.6647) radius 2.5 projected
  circle A4 centre (137, 48.4974) radius 2.5 projected
  circle A5 centre (60.5, 92.6647) radius 2.5 projected
  circle A6 centre (60.5, 4.3301) radius 2.5 projected
  line L0 (10, 40.9974) -> (10, 20.9974) projected
  line L1 (10, 20.9974) -> (10, 10) projected
  line L2 (10, 10) -> (52.2265, 10) projected
  line L3 (58, 0) -> (52.2265, 10) projected
  line L4 (58, 0) -> (114, 0) projected
  line L5 (114, 0) -> (142, 48.4974) projected
  line L6 (142, 48.4974) -> (114, 96.9948) projected
  line L7 (114, 96.9948) -> (58, 96.9948) projected
  line L8 (52.2265, 86.9948) -> (58, 96.9948) projected
  line L9 (52.2265, 86.9948) -> (10, 86.9948) projected
  line L10 (10, 86.9948) -> (10, 75.9974) projected
  line L11 (10, 75.9974) -> (10, 55.9974) projected
  line L12 (10, 55.9974) -> (15, 55.9974) projected
  line L13 (15, 55.9974) -> (15, 40.9974) projected
  line L14 (15, 40.9974) -> (10, 40.9974) projected
  line L15 (10, 10) -> (10, 86.9948) projected
  line L16 (16, 57.1591) -> (4, 57.1591)
  line L17 (4, 57.1591) -> (4, 40.1591)
  line L18 (4, 40.1591) -> (16, 40.1591)
  line L19 (16, 40.1591) -> (16, 57.1591)
  point P0 (-5, 48.4974)
  point P1 (10, 57.1591)
  dimension "d105" = 12
  dimension "d106" = 17
extrude "Extrusion24" cut sketch "Sketch25" along normal blind 60 and the other way blind 20 contours L14 L13 L12 L11 L16 L19 L18 L0 | L15 L12 L13 L14 | L0 L18 L17 L16 L11 L15
sketch "Sketch26" plane through (0, 0, 15) normal (0, 0, 1) x (1, 0, 0)
  circle A0 centre (50, 25) radius 1.5
  circle A1 centre (50, -25) radius 1.5
  circle A2 centre (-32.5, 0) radius 1.5
  line L0 (50, 25) -> (50, -25) construction
  point P0 (0, 0)
  point P1 (50, 0)
  dimension "d109" = 3
  dimension "d110" = 3
  dimension "d111" = 3
  dimension "d112" = 32.5
  dimension "d113" = 50
  dimension "d114" = 50
extrude "Extrusion25" cut sketch "Sketch26" against normal through all
sketch "Sketch27" plane through (92.5, -48.4974, 0) normal (1, 0, 0) x (0, 0, -1)
  circle A0 centre (-91, 48.4974) radius 22.5 projected
  circle A1 centre (-123.5, 48.4974) radius 1.5
  circle A2 centre (-41, 23.4974) radius 1.5
  circle A3 centre (-41, 73.4974) radius 1.5
  line L0 (-41, 23.4974) -> (-41, 73.4974) construction
  point P0 (0, 48.4974)
  point P1 (-41, 48.4974)
  dimension "d119" = 3
  dimension "d120" = 3
  dimension "d121" = 3
  dimension "d122" = 32.5
  dimension "d123" = 50
  dimension "d124" = 50
extrude "Extrusion26" cut sketch "Sketch27" against normal through all contours A1 | A2 | A3
equation "\"d29\" = d28"
properties part number "TARM03" material "ABS Plastic"
